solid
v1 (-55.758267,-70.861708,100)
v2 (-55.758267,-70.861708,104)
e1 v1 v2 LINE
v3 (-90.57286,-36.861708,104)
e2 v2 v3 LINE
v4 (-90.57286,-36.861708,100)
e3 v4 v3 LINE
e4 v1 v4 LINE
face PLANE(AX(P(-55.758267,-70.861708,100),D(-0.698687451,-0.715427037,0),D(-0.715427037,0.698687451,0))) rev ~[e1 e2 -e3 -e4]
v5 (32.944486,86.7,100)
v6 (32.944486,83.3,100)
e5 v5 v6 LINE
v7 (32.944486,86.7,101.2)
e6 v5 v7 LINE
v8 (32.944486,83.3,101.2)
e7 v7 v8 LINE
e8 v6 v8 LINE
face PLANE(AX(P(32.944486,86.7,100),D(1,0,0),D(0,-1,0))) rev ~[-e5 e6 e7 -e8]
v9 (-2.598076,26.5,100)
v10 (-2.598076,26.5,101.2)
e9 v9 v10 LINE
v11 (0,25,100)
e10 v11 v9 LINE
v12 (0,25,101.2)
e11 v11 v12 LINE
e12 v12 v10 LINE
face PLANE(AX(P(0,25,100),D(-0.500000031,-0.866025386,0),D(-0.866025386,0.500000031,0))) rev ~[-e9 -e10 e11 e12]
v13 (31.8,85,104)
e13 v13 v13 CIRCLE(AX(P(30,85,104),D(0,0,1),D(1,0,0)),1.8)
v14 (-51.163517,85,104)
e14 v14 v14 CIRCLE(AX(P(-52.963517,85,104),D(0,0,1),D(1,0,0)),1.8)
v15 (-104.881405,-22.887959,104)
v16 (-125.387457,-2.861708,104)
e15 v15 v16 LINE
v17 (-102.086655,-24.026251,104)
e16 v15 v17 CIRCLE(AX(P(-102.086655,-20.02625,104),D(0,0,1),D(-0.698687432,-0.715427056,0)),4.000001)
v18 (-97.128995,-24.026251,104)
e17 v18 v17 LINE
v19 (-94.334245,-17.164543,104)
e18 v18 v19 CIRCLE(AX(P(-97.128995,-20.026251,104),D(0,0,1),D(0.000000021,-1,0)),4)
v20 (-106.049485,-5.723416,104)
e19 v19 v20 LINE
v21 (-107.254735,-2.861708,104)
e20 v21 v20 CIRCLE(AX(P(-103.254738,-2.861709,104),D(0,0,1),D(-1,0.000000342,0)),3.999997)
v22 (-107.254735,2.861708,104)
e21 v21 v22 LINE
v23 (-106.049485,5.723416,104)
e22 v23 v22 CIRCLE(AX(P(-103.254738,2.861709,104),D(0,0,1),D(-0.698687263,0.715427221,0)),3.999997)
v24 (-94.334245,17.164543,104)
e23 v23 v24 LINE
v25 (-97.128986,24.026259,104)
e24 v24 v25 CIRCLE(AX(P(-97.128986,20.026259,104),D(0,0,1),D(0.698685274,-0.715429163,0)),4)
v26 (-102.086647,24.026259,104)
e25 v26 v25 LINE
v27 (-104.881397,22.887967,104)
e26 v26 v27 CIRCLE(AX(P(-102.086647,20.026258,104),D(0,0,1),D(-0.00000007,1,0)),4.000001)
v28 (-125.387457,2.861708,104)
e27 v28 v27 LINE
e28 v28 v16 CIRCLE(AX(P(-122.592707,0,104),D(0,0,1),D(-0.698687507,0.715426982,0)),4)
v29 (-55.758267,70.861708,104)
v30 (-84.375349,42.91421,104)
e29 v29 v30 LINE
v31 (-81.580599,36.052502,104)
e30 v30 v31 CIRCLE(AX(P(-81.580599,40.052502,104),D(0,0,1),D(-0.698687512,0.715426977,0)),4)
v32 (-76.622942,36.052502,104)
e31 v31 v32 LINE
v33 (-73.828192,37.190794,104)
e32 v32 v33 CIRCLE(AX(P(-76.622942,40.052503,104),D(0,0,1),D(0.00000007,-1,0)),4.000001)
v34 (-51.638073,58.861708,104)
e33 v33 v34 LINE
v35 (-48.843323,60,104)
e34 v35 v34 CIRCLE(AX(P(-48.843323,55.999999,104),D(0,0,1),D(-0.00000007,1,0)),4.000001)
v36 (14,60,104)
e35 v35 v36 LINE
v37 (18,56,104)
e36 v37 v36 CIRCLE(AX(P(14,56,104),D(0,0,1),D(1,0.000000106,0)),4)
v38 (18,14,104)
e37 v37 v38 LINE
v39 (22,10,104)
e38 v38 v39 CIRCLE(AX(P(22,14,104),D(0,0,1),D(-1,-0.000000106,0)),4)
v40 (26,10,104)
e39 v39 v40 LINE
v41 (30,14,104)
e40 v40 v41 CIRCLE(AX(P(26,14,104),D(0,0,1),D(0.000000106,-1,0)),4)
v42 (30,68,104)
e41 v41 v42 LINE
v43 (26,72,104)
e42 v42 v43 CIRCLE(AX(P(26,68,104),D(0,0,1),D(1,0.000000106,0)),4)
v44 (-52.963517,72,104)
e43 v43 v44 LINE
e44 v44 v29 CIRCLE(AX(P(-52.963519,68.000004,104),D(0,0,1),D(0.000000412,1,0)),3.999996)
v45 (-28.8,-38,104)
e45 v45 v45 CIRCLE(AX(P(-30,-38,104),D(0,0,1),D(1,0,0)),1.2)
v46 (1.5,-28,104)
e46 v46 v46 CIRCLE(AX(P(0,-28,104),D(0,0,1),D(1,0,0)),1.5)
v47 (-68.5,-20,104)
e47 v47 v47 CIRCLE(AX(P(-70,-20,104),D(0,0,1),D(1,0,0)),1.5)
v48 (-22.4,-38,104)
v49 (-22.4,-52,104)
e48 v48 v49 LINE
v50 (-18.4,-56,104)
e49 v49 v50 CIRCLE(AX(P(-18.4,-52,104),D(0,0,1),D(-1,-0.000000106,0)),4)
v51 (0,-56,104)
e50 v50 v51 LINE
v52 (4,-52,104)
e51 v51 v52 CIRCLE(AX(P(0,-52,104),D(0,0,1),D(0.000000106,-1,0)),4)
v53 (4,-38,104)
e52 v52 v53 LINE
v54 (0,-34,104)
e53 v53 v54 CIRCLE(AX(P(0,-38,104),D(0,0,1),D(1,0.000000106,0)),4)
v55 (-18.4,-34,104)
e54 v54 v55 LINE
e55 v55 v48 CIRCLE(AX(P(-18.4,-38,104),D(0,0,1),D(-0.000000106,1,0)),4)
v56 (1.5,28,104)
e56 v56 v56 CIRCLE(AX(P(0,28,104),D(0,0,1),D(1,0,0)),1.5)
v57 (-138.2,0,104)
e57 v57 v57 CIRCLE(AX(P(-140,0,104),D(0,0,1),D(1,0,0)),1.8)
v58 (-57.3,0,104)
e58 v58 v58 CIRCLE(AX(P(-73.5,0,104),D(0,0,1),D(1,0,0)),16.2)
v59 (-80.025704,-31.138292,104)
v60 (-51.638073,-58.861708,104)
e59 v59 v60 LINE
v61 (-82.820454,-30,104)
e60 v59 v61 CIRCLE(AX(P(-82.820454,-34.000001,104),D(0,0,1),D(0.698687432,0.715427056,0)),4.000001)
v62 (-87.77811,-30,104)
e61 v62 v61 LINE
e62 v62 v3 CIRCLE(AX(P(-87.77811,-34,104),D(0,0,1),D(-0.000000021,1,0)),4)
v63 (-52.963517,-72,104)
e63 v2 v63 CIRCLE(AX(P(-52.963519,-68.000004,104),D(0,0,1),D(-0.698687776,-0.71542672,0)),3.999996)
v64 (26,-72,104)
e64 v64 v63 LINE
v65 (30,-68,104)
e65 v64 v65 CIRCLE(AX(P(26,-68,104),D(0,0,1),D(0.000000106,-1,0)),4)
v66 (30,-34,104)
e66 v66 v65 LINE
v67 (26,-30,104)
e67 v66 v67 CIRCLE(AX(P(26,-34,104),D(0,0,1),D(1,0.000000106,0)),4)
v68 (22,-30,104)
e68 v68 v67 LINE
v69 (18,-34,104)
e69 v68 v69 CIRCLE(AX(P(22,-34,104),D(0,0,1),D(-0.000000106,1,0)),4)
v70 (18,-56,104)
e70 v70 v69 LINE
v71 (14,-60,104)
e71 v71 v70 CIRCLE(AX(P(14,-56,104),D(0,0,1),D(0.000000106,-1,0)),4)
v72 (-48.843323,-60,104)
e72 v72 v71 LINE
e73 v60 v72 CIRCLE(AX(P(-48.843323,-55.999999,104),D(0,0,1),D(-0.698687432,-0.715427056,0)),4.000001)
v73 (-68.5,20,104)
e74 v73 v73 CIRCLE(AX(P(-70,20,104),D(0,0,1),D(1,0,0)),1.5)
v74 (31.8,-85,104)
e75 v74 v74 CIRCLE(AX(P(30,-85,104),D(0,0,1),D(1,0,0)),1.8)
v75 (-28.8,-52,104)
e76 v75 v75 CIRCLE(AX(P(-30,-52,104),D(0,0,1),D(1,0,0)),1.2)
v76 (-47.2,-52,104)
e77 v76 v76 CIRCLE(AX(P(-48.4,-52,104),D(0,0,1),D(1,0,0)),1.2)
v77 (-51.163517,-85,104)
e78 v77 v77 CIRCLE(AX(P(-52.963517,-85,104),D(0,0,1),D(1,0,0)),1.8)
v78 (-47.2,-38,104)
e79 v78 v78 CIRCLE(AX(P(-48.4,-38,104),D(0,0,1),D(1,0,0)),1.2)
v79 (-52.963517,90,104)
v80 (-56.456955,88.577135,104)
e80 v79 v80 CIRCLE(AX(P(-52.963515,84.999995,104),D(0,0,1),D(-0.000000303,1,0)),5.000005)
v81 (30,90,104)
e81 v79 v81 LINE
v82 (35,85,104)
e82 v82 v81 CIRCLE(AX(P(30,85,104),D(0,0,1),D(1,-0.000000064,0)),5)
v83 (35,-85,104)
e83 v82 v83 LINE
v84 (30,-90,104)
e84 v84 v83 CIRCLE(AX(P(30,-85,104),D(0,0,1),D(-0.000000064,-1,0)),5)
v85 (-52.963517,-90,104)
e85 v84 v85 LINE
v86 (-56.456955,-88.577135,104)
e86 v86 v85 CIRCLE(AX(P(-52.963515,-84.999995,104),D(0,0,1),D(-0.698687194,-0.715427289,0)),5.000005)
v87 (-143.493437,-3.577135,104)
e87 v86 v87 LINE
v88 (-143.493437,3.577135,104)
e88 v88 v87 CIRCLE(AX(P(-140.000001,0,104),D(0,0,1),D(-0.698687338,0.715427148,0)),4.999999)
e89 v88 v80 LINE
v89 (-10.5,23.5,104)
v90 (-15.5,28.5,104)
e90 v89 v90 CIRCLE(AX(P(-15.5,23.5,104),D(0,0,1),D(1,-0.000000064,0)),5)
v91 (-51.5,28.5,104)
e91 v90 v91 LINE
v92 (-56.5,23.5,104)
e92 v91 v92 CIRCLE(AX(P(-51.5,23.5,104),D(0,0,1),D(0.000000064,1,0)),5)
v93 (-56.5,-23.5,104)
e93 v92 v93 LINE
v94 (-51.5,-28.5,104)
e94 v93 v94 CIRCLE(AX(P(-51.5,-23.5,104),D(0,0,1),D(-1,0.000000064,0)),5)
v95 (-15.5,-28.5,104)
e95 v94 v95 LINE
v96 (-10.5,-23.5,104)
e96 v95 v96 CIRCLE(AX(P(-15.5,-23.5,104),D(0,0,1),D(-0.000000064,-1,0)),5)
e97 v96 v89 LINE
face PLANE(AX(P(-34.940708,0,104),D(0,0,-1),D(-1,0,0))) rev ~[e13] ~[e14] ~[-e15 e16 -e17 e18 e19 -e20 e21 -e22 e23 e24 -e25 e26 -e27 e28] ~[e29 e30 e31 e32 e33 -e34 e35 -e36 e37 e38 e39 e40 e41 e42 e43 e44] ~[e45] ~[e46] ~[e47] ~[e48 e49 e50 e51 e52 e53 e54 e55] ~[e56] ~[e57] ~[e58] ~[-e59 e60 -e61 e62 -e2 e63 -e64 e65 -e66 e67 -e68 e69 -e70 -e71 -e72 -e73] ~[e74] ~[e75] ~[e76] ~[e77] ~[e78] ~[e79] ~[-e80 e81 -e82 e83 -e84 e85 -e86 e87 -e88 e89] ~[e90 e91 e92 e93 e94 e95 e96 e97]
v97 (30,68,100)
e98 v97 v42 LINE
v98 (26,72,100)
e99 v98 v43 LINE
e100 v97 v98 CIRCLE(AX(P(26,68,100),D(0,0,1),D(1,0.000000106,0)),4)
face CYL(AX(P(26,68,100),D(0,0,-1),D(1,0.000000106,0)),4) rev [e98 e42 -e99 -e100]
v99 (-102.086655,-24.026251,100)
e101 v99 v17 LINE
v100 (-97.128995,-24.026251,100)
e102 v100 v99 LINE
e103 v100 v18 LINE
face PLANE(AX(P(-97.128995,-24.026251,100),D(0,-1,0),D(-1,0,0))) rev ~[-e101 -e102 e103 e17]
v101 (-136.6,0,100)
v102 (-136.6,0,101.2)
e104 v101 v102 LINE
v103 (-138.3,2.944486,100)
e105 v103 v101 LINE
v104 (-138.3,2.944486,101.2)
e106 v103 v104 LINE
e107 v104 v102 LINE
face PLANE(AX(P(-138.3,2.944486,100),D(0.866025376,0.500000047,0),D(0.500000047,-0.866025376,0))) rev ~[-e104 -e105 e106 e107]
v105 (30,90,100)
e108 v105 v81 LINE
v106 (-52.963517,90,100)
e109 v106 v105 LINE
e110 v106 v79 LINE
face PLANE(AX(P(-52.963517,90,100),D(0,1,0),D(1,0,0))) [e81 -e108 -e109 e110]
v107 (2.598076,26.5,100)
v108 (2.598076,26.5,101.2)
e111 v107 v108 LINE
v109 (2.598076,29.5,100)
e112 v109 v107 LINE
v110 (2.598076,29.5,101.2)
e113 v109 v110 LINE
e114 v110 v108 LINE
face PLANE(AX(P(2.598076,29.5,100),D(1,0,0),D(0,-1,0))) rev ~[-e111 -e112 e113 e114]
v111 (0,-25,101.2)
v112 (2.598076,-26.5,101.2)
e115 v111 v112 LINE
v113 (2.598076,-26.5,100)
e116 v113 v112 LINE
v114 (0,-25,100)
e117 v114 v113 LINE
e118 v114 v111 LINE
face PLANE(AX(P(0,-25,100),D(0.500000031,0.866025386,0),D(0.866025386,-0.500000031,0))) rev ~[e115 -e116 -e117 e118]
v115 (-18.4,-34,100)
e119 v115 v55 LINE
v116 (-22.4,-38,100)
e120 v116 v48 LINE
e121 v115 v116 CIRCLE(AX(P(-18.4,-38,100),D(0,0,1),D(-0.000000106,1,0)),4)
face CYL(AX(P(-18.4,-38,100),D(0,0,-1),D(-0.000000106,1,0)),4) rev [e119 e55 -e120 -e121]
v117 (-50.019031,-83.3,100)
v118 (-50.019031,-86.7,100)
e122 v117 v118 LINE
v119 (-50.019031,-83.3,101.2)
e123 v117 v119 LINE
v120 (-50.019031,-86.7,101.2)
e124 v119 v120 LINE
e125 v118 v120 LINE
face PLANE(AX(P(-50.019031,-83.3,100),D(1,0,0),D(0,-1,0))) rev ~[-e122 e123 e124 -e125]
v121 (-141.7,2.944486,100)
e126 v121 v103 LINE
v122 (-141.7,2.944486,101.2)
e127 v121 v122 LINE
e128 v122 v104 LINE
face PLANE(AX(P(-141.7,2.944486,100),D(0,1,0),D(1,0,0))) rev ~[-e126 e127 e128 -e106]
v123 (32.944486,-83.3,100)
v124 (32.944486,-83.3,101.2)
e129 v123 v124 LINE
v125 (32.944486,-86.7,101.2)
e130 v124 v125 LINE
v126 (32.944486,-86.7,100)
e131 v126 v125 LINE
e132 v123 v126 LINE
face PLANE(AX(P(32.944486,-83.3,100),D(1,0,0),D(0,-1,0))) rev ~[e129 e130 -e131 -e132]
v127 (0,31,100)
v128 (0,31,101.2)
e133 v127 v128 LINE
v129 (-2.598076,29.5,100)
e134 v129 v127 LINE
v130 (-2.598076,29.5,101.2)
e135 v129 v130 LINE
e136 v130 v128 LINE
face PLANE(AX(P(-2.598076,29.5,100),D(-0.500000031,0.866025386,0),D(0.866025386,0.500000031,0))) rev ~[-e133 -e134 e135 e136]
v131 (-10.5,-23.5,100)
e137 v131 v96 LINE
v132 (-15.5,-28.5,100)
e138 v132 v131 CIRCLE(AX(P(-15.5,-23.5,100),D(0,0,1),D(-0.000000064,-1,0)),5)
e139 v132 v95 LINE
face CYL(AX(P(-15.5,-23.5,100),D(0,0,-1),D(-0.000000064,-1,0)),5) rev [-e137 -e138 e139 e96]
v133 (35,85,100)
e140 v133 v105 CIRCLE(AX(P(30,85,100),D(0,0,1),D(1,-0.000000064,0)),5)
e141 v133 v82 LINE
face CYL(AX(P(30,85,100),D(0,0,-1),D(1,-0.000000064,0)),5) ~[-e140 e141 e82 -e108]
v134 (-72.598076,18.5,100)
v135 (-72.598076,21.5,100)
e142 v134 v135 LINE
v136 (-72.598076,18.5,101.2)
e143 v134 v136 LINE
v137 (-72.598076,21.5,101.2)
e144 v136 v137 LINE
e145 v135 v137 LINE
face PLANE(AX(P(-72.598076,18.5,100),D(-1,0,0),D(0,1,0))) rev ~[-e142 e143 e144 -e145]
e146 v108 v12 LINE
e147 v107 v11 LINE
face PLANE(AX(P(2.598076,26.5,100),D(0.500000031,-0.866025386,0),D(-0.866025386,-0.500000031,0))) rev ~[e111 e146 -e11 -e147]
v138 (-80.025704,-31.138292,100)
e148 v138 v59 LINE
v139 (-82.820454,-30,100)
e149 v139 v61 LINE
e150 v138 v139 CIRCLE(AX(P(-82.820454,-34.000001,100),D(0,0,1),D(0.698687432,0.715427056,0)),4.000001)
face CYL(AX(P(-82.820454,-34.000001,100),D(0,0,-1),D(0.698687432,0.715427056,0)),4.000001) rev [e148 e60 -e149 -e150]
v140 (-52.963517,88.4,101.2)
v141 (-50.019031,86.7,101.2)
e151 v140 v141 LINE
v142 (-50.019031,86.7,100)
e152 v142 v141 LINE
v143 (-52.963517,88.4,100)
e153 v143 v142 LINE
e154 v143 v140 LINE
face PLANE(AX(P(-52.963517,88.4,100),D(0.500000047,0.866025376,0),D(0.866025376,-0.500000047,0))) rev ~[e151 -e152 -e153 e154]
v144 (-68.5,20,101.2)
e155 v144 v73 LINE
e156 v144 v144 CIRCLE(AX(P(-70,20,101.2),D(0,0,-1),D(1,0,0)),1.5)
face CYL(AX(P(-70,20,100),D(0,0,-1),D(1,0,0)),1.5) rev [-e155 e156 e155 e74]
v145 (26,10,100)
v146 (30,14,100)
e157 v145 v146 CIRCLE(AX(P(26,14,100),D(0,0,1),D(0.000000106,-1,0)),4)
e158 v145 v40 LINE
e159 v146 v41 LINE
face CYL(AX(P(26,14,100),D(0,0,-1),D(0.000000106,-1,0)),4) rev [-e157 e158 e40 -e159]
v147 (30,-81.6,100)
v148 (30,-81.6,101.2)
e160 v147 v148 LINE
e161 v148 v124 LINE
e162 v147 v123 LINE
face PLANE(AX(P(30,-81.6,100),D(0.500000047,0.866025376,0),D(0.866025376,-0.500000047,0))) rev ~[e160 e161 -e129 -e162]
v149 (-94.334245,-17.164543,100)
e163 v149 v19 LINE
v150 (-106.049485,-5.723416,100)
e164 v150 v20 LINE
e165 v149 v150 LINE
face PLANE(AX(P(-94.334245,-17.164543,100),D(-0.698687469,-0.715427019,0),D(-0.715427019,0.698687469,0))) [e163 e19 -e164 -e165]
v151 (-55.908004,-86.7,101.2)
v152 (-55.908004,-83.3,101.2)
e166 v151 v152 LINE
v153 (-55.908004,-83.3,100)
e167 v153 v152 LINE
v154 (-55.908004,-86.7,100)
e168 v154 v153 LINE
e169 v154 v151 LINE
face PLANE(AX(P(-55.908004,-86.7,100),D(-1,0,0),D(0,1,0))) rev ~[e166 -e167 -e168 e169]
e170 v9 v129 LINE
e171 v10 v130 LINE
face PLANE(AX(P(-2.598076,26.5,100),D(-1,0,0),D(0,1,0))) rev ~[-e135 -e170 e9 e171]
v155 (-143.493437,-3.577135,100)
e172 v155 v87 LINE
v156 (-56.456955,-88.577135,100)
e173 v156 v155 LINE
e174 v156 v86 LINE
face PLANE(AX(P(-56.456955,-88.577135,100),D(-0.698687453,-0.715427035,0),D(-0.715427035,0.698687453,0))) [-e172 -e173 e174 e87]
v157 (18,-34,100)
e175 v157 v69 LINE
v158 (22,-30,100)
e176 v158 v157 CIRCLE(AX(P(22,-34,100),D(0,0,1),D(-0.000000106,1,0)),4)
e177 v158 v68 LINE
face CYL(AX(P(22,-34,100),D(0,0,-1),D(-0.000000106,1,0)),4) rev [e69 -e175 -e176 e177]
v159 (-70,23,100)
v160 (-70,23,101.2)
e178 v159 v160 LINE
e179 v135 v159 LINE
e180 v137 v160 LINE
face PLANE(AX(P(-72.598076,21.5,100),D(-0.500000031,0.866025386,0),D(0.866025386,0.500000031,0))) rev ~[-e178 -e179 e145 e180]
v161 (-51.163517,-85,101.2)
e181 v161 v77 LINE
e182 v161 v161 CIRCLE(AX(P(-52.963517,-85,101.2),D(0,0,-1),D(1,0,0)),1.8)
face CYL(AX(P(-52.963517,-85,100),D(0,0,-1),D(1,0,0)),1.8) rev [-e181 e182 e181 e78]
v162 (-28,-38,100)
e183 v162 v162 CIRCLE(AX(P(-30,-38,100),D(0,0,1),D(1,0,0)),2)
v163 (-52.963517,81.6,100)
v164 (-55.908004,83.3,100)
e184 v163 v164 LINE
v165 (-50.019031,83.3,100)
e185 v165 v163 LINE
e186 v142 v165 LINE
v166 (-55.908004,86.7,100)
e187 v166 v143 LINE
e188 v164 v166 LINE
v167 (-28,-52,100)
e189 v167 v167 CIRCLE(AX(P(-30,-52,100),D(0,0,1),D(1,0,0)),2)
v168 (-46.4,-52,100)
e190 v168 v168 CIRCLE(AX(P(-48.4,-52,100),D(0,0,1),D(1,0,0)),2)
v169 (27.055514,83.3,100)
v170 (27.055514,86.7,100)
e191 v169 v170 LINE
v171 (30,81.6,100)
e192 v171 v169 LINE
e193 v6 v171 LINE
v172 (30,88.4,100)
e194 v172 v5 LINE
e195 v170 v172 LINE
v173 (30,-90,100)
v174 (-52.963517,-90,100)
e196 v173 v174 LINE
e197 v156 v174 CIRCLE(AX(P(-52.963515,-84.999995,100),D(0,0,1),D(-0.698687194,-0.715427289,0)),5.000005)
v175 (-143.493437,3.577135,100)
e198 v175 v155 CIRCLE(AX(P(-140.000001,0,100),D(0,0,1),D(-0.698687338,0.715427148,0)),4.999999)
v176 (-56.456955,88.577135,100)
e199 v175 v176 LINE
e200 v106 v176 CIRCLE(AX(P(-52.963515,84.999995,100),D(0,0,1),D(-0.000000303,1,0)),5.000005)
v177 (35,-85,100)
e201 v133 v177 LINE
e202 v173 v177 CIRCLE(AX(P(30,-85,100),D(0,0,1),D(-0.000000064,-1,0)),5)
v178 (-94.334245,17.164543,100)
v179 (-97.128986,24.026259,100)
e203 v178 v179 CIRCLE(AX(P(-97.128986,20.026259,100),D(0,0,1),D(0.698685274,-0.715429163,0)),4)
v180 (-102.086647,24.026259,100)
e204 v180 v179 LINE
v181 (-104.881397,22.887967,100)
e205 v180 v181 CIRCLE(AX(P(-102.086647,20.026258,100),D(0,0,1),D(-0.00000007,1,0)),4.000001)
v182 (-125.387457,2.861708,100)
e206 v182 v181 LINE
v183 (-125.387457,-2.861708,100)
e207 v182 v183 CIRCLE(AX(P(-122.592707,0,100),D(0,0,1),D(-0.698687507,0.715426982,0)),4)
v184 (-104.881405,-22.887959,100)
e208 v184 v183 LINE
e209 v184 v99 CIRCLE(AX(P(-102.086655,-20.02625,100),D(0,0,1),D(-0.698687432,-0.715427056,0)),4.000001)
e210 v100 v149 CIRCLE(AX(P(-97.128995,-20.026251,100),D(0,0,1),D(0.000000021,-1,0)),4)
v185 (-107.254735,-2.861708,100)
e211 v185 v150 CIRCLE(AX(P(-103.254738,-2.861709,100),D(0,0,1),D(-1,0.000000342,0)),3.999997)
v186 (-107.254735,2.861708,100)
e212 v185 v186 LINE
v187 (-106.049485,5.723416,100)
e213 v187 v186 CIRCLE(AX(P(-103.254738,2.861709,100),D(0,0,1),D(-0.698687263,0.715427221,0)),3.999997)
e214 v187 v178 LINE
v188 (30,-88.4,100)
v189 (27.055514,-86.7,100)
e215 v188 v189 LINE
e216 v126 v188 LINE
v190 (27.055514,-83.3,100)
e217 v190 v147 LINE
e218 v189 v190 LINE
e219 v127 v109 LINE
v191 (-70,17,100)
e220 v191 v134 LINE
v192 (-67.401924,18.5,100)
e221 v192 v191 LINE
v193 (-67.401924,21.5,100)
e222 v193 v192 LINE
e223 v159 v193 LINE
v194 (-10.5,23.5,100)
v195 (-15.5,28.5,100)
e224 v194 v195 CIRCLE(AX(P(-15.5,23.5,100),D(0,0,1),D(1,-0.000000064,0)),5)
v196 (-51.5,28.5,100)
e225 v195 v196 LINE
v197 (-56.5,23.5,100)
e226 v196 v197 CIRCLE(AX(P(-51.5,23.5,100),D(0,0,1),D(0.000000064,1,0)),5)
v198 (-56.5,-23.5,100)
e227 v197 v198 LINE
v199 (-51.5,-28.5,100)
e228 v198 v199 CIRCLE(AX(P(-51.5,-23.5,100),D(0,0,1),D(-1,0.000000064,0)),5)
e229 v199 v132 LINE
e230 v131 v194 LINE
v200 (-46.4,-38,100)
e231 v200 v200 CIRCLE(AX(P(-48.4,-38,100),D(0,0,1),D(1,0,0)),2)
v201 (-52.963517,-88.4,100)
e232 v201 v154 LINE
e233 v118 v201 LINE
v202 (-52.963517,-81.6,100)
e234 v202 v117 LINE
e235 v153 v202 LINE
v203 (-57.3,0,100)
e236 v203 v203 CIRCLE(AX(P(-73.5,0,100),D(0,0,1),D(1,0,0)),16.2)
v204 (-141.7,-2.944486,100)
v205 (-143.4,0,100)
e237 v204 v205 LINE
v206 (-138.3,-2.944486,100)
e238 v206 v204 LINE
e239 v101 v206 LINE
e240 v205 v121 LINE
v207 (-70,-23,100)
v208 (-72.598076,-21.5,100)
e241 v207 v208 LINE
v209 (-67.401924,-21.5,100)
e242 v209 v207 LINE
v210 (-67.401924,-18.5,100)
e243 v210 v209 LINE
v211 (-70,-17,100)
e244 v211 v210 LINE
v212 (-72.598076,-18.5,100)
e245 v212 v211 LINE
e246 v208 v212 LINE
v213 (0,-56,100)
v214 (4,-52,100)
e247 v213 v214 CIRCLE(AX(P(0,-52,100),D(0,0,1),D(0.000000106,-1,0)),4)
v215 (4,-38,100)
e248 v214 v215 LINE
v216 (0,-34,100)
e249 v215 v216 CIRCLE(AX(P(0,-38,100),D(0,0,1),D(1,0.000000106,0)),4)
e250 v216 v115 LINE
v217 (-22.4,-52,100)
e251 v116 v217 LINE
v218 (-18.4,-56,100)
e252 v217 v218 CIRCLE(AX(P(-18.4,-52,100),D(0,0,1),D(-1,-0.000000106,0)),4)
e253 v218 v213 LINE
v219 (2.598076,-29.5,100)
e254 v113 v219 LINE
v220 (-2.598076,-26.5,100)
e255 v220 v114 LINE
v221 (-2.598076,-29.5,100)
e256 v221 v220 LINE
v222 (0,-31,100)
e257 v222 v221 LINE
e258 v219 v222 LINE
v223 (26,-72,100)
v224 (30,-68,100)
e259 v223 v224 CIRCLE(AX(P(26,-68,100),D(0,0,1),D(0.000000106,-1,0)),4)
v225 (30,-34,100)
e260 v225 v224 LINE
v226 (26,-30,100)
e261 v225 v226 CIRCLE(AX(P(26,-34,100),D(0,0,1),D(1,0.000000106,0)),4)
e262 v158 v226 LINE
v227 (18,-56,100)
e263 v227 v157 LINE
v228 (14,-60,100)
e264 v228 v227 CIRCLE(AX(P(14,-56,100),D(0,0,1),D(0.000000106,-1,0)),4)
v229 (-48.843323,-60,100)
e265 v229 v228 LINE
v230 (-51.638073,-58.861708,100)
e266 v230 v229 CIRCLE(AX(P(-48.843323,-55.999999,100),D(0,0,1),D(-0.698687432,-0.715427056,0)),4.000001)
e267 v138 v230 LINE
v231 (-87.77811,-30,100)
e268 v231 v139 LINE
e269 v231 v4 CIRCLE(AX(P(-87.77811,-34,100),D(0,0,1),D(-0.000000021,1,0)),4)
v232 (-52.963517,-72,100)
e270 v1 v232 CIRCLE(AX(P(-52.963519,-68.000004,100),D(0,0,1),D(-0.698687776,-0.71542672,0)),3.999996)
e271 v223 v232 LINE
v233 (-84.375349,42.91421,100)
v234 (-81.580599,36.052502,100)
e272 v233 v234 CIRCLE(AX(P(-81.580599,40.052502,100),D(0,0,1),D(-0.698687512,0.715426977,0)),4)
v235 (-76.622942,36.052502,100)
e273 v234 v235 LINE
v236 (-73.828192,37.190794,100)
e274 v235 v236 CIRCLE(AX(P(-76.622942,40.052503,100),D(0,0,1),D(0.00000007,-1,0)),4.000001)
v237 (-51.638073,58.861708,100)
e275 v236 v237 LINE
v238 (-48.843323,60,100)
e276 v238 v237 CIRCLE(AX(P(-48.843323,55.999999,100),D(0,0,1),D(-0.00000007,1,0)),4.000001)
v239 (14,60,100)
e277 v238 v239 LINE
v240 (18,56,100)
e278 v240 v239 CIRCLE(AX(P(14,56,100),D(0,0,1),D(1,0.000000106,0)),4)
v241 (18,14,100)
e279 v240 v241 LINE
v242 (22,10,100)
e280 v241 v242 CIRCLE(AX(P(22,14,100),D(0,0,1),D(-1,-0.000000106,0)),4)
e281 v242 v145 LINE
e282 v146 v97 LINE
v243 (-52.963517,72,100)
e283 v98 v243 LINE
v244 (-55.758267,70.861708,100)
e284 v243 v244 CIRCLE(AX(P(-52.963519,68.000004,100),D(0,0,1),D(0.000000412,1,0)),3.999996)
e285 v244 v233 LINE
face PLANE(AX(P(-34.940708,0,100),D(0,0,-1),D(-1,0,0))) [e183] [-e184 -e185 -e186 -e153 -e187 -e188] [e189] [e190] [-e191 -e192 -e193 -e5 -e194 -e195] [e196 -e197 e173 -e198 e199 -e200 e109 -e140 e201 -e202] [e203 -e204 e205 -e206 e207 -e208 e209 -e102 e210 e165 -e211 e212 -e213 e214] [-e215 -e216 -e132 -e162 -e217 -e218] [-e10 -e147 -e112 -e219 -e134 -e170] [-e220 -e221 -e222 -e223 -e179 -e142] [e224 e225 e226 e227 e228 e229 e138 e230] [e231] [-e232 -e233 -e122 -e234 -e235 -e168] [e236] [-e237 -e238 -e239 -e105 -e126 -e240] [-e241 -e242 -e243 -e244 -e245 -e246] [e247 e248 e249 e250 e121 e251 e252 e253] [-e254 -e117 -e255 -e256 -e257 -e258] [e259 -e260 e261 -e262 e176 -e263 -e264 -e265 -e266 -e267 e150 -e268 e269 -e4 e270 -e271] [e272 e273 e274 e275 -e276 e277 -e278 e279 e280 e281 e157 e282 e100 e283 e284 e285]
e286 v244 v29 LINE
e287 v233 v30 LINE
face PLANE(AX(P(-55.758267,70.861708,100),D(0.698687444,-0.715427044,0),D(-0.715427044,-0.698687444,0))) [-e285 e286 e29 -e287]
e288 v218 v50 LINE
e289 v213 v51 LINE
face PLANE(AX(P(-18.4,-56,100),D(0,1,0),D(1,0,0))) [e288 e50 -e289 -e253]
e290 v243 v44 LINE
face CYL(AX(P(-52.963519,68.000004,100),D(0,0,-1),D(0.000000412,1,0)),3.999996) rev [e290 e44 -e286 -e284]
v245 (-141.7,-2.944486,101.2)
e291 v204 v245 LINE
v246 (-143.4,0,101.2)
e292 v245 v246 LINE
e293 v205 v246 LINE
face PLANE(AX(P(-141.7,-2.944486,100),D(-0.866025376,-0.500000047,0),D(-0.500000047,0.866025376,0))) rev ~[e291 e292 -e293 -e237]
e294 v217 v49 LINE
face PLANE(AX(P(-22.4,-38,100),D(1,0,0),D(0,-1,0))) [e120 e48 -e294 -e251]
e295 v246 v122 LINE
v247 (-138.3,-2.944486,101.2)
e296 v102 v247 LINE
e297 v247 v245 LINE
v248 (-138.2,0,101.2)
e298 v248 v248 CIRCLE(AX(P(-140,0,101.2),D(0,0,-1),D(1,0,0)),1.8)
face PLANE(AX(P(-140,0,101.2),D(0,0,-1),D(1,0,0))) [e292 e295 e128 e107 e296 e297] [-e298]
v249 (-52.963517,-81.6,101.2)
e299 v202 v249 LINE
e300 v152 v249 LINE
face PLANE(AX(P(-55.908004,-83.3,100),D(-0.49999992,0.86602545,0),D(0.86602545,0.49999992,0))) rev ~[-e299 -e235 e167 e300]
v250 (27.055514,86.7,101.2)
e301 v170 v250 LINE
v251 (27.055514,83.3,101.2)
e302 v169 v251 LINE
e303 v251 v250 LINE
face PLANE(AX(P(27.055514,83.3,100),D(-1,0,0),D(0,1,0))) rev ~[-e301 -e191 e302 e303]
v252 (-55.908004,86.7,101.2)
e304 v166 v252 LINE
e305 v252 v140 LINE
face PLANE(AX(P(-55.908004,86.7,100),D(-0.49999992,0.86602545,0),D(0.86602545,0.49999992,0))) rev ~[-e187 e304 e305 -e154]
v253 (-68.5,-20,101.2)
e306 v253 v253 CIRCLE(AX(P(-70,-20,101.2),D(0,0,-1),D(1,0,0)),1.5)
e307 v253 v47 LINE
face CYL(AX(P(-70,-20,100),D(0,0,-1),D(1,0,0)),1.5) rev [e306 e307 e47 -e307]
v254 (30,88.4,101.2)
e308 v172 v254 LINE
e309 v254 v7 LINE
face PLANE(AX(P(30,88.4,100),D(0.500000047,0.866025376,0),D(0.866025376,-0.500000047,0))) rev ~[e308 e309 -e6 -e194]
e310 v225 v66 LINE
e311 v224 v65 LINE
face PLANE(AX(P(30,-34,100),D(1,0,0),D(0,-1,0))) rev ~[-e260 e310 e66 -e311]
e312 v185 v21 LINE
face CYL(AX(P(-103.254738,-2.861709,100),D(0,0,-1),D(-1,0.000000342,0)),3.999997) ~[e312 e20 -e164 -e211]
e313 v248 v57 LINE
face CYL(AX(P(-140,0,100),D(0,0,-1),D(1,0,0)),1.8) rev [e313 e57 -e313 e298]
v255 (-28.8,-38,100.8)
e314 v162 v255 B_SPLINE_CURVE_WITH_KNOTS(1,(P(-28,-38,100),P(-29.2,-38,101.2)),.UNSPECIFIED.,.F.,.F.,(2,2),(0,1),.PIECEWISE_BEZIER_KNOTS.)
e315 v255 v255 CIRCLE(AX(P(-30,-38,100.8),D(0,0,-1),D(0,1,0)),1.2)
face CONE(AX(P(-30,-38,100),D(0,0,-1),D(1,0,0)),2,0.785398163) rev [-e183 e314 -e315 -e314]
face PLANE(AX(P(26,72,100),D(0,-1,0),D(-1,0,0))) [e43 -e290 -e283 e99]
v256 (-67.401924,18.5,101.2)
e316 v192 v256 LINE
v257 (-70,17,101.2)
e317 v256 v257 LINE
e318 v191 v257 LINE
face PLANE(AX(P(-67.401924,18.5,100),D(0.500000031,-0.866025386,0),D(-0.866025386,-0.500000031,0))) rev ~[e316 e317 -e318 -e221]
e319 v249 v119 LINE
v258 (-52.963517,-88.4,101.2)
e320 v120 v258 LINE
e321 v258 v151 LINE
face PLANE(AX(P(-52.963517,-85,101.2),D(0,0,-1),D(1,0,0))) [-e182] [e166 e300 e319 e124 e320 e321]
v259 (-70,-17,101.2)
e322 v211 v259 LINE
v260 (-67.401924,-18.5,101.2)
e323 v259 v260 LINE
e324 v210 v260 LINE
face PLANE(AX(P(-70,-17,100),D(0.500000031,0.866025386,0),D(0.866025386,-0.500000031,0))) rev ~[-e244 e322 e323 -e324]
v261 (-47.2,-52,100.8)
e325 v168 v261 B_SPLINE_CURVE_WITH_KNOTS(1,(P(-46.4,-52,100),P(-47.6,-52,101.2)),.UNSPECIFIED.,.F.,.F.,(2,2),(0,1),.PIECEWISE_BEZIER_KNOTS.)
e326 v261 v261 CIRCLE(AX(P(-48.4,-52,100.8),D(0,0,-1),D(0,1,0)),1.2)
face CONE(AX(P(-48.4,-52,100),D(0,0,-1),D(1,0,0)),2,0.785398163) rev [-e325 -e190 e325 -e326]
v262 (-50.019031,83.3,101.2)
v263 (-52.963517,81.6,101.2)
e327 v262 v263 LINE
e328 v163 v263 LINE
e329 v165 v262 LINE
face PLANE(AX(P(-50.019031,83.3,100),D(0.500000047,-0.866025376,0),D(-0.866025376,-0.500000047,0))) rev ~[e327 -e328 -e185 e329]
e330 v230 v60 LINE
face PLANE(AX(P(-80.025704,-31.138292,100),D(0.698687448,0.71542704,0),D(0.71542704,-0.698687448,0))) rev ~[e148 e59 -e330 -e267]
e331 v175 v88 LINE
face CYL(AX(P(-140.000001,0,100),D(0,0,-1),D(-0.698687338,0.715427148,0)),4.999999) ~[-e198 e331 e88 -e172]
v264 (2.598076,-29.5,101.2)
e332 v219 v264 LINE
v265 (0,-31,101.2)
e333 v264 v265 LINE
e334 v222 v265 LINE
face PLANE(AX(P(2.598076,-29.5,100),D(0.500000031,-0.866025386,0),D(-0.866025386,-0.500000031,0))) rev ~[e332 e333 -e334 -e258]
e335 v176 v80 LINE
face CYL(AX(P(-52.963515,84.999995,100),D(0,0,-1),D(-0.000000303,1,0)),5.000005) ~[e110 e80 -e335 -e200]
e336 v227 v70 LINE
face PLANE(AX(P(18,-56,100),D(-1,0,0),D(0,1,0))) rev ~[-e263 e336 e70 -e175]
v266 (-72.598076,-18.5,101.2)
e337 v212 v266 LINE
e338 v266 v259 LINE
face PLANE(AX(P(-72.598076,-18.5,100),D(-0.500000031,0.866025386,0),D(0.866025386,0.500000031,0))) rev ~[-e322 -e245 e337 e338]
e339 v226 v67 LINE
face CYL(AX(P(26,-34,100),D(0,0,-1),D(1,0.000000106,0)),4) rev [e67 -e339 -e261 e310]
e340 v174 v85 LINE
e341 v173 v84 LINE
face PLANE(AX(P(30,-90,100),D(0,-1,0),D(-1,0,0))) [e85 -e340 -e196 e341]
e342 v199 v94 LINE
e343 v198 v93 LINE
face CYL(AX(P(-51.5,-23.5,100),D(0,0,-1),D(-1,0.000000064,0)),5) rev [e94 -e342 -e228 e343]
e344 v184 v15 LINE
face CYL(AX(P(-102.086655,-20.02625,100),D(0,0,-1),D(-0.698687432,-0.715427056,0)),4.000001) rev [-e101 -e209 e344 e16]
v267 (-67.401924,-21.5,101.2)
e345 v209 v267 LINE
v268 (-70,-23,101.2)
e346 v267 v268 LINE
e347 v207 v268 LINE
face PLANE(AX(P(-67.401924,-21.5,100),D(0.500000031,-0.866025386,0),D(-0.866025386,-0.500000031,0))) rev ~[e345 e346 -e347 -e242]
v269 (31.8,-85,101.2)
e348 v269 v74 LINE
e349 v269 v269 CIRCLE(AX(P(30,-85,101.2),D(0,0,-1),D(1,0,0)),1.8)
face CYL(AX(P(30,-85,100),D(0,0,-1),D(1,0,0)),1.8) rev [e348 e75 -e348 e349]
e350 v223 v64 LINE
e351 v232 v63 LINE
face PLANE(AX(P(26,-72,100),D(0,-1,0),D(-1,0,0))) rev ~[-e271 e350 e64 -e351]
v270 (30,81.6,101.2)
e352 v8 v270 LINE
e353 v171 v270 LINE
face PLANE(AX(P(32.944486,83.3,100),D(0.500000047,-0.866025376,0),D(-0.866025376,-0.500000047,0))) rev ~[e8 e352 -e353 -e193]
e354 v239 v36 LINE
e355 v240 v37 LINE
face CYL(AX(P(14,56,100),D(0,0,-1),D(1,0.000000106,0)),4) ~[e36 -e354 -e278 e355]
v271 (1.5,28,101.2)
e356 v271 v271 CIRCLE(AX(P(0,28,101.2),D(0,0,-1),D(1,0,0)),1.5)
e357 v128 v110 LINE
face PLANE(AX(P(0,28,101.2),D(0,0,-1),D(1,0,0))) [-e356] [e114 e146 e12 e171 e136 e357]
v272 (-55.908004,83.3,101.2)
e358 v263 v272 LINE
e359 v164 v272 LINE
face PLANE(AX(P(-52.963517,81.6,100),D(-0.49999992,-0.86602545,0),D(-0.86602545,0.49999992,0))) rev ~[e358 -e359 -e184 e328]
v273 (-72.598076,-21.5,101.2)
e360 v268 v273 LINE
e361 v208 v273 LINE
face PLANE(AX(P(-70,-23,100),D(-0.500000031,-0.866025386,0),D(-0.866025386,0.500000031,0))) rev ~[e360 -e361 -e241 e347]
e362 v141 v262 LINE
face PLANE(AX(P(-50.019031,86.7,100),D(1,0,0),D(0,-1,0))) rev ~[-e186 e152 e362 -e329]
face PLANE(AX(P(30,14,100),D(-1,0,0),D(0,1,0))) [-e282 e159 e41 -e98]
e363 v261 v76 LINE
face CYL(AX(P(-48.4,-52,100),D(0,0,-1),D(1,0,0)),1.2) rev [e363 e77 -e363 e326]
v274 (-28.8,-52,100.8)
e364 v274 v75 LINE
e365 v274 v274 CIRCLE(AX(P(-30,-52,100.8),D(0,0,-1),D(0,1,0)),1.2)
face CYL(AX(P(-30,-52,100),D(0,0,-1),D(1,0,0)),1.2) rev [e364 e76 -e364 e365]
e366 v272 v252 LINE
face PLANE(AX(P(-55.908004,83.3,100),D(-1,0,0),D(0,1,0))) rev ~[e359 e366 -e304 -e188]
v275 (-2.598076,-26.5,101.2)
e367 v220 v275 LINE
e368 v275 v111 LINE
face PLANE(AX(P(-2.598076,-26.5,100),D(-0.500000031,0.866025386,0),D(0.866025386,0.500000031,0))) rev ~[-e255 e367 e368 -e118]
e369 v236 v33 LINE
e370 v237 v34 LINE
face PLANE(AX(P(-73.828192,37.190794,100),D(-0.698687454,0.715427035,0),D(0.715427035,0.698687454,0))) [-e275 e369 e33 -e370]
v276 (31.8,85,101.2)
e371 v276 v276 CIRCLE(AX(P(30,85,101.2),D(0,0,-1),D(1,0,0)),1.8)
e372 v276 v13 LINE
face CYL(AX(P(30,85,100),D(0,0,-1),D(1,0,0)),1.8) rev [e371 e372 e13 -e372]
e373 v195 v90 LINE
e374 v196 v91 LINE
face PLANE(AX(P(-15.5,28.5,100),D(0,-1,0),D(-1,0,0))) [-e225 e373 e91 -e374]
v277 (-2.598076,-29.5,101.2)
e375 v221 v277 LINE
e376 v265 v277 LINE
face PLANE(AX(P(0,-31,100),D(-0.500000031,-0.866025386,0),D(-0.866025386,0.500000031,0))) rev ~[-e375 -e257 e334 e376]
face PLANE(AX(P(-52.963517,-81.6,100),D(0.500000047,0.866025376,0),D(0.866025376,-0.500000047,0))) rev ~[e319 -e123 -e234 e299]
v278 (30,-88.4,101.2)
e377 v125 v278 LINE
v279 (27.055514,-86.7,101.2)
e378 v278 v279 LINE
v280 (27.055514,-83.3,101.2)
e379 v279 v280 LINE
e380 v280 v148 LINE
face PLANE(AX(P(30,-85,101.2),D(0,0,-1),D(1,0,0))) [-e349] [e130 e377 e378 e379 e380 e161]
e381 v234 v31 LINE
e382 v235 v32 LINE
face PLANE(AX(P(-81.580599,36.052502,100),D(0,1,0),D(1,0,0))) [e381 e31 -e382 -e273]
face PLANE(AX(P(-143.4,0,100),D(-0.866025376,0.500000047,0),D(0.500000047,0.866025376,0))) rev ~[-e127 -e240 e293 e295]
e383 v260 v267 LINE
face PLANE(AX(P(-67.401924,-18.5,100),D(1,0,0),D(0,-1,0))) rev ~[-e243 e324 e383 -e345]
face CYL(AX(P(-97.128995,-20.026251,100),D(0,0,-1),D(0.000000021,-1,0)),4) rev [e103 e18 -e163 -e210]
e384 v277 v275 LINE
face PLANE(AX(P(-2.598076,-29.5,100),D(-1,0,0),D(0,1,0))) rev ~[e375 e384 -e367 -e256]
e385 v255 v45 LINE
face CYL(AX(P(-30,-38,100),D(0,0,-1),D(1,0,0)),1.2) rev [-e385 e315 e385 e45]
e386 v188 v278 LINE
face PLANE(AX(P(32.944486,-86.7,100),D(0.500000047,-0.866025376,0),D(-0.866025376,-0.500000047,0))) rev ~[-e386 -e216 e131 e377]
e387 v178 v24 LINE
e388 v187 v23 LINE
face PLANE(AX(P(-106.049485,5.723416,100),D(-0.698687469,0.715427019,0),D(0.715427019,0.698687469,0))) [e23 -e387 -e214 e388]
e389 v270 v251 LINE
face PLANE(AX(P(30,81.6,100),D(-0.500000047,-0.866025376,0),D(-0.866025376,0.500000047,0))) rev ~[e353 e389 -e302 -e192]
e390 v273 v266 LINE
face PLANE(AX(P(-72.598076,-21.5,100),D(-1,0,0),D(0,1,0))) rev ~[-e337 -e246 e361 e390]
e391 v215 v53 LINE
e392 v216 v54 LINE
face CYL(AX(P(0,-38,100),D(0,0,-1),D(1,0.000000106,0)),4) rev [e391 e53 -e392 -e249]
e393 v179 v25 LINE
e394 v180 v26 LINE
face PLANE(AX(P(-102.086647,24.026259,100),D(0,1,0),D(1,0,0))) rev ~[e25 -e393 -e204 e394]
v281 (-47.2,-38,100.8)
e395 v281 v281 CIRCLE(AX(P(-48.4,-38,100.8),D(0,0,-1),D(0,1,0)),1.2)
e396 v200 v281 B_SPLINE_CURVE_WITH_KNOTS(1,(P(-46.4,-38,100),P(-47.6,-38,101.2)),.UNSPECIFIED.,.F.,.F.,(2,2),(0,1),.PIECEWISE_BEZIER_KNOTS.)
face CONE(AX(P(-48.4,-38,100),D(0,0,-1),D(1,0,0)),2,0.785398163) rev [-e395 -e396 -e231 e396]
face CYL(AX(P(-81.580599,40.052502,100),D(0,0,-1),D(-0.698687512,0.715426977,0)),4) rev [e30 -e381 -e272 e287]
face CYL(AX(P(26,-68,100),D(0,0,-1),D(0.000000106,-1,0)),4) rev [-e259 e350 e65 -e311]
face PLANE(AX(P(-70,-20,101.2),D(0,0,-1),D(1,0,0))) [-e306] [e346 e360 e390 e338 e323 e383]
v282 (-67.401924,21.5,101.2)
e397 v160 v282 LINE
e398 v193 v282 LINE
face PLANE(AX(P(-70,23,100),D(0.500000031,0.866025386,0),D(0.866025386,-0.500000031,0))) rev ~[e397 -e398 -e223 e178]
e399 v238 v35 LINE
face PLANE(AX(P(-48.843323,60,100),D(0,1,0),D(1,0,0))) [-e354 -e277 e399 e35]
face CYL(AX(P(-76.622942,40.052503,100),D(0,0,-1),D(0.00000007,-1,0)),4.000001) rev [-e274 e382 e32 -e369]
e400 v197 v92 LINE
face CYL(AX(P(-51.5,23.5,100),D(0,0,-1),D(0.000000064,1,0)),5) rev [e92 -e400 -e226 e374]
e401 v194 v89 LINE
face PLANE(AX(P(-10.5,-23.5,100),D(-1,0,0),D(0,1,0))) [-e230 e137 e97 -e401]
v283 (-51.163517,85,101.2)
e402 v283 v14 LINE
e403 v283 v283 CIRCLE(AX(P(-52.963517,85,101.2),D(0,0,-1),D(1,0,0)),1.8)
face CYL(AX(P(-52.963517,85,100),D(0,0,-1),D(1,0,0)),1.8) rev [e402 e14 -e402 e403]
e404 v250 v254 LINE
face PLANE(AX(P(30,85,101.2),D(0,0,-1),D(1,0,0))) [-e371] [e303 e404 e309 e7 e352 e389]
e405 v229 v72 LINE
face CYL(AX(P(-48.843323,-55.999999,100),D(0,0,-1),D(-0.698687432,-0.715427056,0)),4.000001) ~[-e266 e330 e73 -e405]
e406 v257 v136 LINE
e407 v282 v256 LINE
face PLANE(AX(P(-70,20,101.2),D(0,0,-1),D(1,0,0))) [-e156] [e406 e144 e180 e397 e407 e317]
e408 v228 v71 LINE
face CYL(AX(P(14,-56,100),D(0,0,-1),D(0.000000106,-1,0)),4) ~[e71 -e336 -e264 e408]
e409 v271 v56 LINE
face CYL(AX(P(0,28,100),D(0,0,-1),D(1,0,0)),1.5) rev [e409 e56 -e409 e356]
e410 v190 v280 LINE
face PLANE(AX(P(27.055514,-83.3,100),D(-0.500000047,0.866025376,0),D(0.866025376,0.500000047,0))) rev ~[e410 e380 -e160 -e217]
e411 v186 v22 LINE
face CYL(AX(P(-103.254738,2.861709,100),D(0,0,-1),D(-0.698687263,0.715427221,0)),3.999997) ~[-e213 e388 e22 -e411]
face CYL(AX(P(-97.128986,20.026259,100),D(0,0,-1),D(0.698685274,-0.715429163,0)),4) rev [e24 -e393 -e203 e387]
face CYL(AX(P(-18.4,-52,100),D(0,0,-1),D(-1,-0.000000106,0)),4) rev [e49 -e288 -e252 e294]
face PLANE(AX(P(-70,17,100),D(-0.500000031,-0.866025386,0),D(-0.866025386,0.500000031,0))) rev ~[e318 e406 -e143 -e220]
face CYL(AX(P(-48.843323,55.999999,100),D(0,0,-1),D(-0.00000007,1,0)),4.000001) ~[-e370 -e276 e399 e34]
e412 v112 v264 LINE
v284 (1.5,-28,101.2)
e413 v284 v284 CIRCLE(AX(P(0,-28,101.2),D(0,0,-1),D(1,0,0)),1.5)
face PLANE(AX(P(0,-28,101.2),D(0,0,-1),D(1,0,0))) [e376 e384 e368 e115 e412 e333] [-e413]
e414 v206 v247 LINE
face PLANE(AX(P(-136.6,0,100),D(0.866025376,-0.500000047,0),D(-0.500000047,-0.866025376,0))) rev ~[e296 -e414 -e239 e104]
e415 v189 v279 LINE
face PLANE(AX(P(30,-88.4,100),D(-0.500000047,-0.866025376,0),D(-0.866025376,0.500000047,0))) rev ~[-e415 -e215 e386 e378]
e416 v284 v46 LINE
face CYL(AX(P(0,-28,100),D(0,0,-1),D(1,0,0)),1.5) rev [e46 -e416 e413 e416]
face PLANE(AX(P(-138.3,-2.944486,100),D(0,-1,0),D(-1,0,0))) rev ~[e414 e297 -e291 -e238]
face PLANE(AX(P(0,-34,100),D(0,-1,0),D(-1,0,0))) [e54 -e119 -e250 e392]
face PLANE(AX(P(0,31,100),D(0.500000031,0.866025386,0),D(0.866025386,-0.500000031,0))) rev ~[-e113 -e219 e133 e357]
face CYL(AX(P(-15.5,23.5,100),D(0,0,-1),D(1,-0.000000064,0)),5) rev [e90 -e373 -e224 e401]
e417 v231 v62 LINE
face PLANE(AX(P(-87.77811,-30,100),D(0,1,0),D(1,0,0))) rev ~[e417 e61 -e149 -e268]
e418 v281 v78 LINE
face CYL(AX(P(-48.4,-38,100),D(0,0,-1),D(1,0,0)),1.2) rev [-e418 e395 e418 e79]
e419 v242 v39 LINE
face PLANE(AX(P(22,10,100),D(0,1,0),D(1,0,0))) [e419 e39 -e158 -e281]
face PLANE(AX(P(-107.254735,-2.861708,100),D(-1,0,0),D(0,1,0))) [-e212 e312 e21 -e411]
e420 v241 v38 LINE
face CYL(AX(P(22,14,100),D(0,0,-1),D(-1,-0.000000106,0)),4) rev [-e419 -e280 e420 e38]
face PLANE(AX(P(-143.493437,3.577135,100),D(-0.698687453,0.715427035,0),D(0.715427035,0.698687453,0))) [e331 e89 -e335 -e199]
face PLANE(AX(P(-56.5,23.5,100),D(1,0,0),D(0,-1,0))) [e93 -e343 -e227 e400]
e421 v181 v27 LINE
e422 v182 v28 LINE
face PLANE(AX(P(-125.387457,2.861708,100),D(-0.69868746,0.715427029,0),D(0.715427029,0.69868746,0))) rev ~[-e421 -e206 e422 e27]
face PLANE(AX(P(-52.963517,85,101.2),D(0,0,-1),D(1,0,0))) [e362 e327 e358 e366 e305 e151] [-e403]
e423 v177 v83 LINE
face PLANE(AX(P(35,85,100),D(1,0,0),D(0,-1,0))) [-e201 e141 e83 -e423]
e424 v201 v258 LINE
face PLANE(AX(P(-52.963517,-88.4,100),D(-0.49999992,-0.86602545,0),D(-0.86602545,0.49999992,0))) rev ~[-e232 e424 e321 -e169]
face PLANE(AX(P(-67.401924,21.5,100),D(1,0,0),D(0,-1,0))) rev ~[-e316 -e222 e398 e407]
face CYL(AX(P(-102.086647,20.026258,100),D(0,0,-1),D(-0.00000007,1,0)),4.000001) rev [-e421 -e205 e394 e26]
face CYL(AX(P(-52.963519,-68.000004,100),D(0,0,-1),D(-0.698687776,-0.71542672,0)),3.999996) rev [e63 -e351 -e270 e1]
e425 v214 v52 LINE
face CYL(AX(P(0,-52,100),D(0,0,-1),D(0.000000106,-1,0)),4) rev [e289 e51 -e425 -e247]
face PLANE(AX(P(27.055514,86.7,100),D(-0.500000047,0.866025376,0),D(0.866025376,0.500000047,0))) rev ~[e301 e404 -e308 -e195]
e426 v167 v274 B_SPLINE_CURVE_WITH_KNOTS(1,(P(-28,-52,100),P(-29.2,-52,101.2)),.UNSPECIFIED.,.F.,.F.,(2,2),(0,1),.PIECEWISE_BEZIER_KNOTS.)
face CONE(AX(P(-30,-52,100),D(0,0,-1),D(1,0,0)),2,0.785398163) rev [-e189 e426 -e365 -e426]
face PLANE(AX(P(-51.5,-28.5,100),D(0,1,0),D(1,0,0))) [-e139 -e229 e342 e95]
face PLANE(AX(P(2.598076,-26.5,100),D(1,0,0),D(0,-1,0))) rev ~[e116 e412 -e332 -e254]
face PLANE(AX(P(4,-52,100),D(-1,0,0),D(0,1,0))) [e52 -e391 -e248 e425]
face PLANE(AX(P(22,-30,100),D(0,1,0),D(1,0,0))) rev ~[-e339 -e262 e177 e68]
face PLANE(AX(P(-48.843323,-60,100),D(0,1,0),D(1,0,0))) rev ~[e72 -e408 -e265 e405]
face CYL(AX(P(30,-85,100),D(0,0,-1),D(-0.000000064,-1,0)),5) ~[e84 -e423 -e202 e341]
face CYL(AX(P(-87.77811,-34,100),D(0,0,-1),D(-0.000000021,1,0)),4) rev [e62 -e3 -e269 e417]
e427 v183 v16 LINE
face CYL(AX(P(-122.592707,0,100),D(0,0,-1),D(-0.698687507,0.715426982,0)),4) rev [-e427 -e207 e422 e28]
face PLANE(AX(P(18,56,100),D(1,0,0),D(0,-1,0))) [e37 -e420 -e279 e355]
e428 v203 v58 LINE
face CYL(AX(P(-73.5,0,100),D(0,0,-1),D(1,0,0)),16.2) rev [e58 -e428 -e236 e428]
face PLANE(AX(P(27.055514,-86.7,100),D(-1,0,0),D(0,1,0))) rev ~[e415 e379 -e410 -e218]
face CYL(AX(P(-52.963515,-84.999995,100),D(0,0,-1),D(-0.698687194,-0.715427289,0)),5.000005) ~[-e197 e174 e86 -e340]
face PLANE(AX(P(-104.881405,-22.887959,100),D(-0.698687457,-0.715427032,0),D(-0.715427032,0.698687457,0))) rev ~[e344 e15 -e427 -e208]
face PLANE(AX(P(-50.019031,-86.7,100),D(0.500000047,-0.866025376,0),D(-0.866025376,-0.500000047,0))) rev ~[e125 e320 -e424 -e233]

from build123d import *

# Parameters (mm, degrees)
SKETCH042_R     = 1.8
SKETCH042_R_2   = 16.2
SKETCH042_R_3   = 1.2
SKETCH042_R_4   = 1.5
PAD008_DEPTH    = 4
POCKET027_DEPTH = 1.2
SKETCH050_R     = 2
POCKET033_DEPTH = 1.2
POCKET033_TAPER = 45


with BuildPart() as part:
    # Sketch042 → Pad008 (new body)
    with BuildSketch(Plane.XY):
        with BuildLine():
            Line((35, 85), (35, -85))
            ThreePointArc((30, -90), (33.535534, -88.535534), (35, -85))
            Line((30, -90), (-52.963517, -90))
            ThreePointArc((-56.456955, -88.577135), (-54.849561, -89.630641), (-52.963517, -90))
            Line((-56.456955, -88.577135), (-143.493437, -3.577135))
            ThreePointArc((-143.493437, 3.577135), (-145, 0), (-143.493437, -3.577135))
            Line((-143.493437, 3.577135), (-56.456955, 88.577135))
            ThreePointArc((-52.963517, 90), (-54.849561, 89.630641), (-56.456955, 88.577135))
            Line((-52.963517, 90), (30, 90))
            ThreePointArc((35, 85), (33.535534, 88.535534), (30, 90))
        make_face()
        with Locations((-140, 0)):
            Circle(SKETCH042_R, mode=Mode.SUBTRACT)
        with Locations((30, -85)):
            Circle(SKETCH042_R, mode=Mode.SUBTRACT)
        with Locations((30, 85)):
            Circle(SKETCH042_R, mode=Mode.SUBTRACT)
        with Locations((-73.5, 0)):
            Circle(SKETCH042_R_2, mode=Mode.SUBTRACT)
        with Locations((-30, -38)):
            Circle(SKETCH042_R_3, mode=Mode.SUBTRACT)
        with Locations((-30, -52)):
            Circle(SKETCH042_R_3, mode=Mode.SUBTRACT)
        with Locations((-48.4, -38)):
            Circle(SKETCH042_R_3, mode=Mode.SUBTRACT)
        with Locations((-48.4, -52)):
            Circle(SKETCH042_R_3, mode=Mode.SUBTRACT)
        with Locations((0, 28)):
            Circle(SKETCH042_R_4, mode=Mode.SUBTRACT)
        with Locations((0, -28)):
            Circle(SKETCH042_R_4, mode=Mode.SUBTRACT)
        with Locations((-70, 20)):
            Circle(SKETCH042_R_4, mode=Mode.SUBTRACT)
        with Locations((-70, -20)):
            Circle(SKETCH042_R_4, mode=Mode.SUBTRACT)
        with Locations((-52.963517, -85)):
            Circle(SKETCH042_R, mode=Mode.SUBTRACT)
        with Locations((-52.963517, 85)):
            Circle(SKETCH042_R, mode=Mode.SUBTRACT)
        with BuildLine():
            Line((-56.5, 23.5), (-56.5, -23.5))
            ThreePointArc((-56.5, -23.5), (-55.035534, -27.035534), (-51.5, -28.5))
            Line((-51.5, -28.5), (-15.5, -28.5))
            ThreePointArc((-15.5, -28.5), (-11.964466, -27.035534), (-10.5, -23.5))
            Line((-10.5, -23.5), (-10.5, 23.5))
            ThreePointArc((-10.5, 23.5), (-11.964466, 27.035534), (-15.5, 28.5))
            Line((-15.5, 28.5), (-51.5, 28.5))
            ThreePointArc((-51.5, 28.5), (-55.035534, 27.035534), (-56.5, 23.5))
        make_face(mode=Mode.SUBTRACT)
        with BuildLine():
            Line((22, -30), (26, -30))
            ThreePointArc((30, -34), (28.828427, -31.171573), (26, -30))
            Line((30, -34), (30, -68))
            ThreePointArc((26, -72), (28.828427, -70.828427), (30, -68))
            Line((26, -72), (-52.963517, -72))
            ThreePointArc((-55.758267, -70.861708), (-54.472353, -71.704513), (-52.963517, -72))
            Line((-55.758267, -70.861708), (-90.57286, -36.861708))
            ThreePointArc((-87.77811, -30), (-91.482623, -32.491165), (-90.57286, -36.861708))
            Line((-87.77811, -30), (-82.820454, -30))
            ThreePointArc((-80.025704, -31.138292), (-81.311619, -30.295487), (-82.820454, -30))
            Line((-80.025704, -31.138292), (-51.638073, -58.861708))
            ThreePointArc((-51.638073, -58.861708), (-50.352158, -59.704513), (-48.843323, -60))
            Line((-48.843323, -60), (14, -60))
            ThreePointArc((14, -60), (16.828427, -58.828427), (18, -56))
            Line((18, -56), (18, -34))
            ThreePointArc((22, -30), (19.171573, -31.171573), (18, -34))
        make_face(mode=Mode.SUBTRACT)
        with BuildLine():
            Line((22, 10), (26, 10))
            ThreePointArc((26, 10), (28.828427, 11.171573), (30, 14))
            Line((30, 14), (30, 68))
            ThreePointArc((30, 68), (28.828427, 70.828427), (26, 72))
            Line((26, 72), (-52.963517, 72))
            ThreePointArc((-52.963517, 72), (-54.472353, 71.704513), (-55.758267, 70.861708))
            Line((-55.758267, 70.861708), (-84.375349, 42.91421))
            ThreePointArc((-84.375349, 42.91421), (-85.285112, 38.543667), (-81.580599, 36.052502))
            Line((-81.580599, 36.052502), (-76.622942, 36.052502))
            ThreePointArc((-76.622942, 36.052502), (-75.114107, 36.347989), (-73.828192, 37.190794))
            Line((-73.828192, 37.190794), (-51.638073, 58.861708))
            ThreePointArc((-48.843323, 60), (-50.352158, 59.704513), (-51.638073, 58.861708))
            Line((-48.843323, 60), (14, 60))
            ThreePointArc((18, 56), (16.828427, 58.828427), (14, 60))
            Line((18, 56), (18, 14))
            ThreePointArc((18, 14), (19.171573, 11.171573), (22, 10))
        make_face(mode=Mode.SUBTRACT)
        with BuildLine():
            Line((-97.128995, -24.026251), (-102.086655, -24.026251))
            ThreePointArc((-104.881405, -22.887959), (-103.59549, -23.730764), (-102.086655, -24.026251))
            Line((-104.881405, -22.887959), (-125.387457, -2.861708))
            ThreePointArc((-125.387457, 2.861708), (-126.592707, 0), (-125.387457, -2.861708))
            Line((-125.387457, 2.861708), (-104.881397, 22.887967))
            ThreePointArc((-102.086647, 24.026259), (-103.595482, 23.730772), (-104.881397, 22.887967))
            Line((-102.086647, 24.026259), (-97.128986, 24.026259))
            ThreePointArc((-94.334245, 17.164543), (-93.424471, 21.535089), (-97.128986, 24.026259))
            Line((-106.049485, 5.723416), (-94.334245, 17.164543))
            ThreePointArc((-106.049485, 5.723416), (-106.941129, 4.414287), (-107.254735, 2.861708))
            Line((-107.254735, -2.861708), (-107.254735, 2.861708))
            ThreePointArc((-107.254735, -2.861708), (-106.941129, -4.414287), (-106.049485, -5.723416))
            Line((-94.334245, -17.164543), (-106.049485, -5.723416))
            ThreePointArc((-97.128995, -24.026251), (-93.424482, -21.535086), (-94.334245, -17.164543))
        make_face(mode=Mode.SUBTRACT)
        with BuildLine():
            Line((-22.4, -38), (-22.4, -52))
            ThreePointArc((-22.4, -52), (-21.228427, -54.828427), (-18.4, -56))
            Line((-18.4, -56), (0, -56))
            ThreePointArc((0, -56), (2.828427, -54.828427), (4, -52))
            Line((4, -52), (4, -38))
            ThreePointArc((4, -38), (2.828427, -35.171573), (0, -34))
            Line((0, -34), (-18.4, -34))
            ThreePointArc((-18.4, -34), (-21.228427, -35.171573), (-22.4, -38))
        make_face(mode=Mode.SUBTRACT)
    extrude(amount=PAD008_DEPTH)

    # Sketch043 (on Face87 of Pad008) → Pocket027 (cut)
    with BuildSketch(Plane(origin=(0, 0, 0), x_dir=(1, 0, 0), z_dir=(0, 0, -1))):
        Polygon((-136.6, 0), (-138.3, 2.944486), (-141.7, 2.944486), (-143.4, 0), (-141.7, -2.944486), (-138.3, -2.944486), align=None)
        Polygon((30, -81.6), (27.055514, -83.3), (27.055514, -86.7), (30, -88.4), (32.944486, -86.7), (32.944486, -83.3), align=None)
        Polygon((30, 81.6), (32.944486, 83.3), (32.944486, 86.7), (30, 88.4), (27.055514, 86.7), (27.055514, 83.3), align=None)
        Polygon((-67.401924, 18.5), (-67.401924, 21.5), (-70, 23), (-72.598076, 21.5), (-72.598076, 18.5), (-70, 17), align=None)
        Polygon((-67.401924, -21.5), (-67.401924, -18.5), (-70, -17), (-72.598076, -18.5), (-72.598076, -21.5), (-70, -23), align=None)
        Polygon((0, 25), (2.598076, 26.5), (2.598076, 29.5), (0, 31), (-2.598076, 29.5), (-2.598076, 26.5), align=None)
        Polygon((2.598076, -29.5), (2.598076, -26.5), (0, -25), (-2.598076, -26.5), (-2.598076, -29.5), (0, -31), align=None)
        Polygon((-52.963517, -81.6), (-55.908004, -83.3), (-55.908004, -86.7), (-52.963517, -88.4), (-50.019031, -86.7), (-50.019031, -83.3), align=None)
        Polygon((-52.963517, 81.6), (-50.019031, 83.3), (-50.019031, 86.7), (-52.963517, 88.4), (-55.908004, 86.7), (-55.908004, 83.3), align=None)
    extrude(amount=-POCKET027_DEPTH, mode=Mode.SUBTRACT)

    # Sketch050 (on Face4 of Pocket027) → Pocket033 (cut)
    with BuildSketch(Plane(origin=(0, 0, 0), x_dir=(1, 0, 0), z_dir=(0, 0, -1))):
        with Locations((-48.4, 52)):
            Circle(SKETCH050_R)
        with Locations((-48.4, 38)):
            Circle(SKETCH050_R)
        with Locations((-30, 38)):
            Circle(SKETCH050_R)
        with Locations((-30, 52)):
            Circle(SKETCH050_R)
    extrude(amount=-POCKET033_DEPTH, taper=POCKET033_TAPER, mode=Mode.SUBTRACT)


with BuildPart() as part_1:
    # Body005 placement: moved
    add(part.part.moved(Location((0, 0, 100))))


solid = part_1.part
